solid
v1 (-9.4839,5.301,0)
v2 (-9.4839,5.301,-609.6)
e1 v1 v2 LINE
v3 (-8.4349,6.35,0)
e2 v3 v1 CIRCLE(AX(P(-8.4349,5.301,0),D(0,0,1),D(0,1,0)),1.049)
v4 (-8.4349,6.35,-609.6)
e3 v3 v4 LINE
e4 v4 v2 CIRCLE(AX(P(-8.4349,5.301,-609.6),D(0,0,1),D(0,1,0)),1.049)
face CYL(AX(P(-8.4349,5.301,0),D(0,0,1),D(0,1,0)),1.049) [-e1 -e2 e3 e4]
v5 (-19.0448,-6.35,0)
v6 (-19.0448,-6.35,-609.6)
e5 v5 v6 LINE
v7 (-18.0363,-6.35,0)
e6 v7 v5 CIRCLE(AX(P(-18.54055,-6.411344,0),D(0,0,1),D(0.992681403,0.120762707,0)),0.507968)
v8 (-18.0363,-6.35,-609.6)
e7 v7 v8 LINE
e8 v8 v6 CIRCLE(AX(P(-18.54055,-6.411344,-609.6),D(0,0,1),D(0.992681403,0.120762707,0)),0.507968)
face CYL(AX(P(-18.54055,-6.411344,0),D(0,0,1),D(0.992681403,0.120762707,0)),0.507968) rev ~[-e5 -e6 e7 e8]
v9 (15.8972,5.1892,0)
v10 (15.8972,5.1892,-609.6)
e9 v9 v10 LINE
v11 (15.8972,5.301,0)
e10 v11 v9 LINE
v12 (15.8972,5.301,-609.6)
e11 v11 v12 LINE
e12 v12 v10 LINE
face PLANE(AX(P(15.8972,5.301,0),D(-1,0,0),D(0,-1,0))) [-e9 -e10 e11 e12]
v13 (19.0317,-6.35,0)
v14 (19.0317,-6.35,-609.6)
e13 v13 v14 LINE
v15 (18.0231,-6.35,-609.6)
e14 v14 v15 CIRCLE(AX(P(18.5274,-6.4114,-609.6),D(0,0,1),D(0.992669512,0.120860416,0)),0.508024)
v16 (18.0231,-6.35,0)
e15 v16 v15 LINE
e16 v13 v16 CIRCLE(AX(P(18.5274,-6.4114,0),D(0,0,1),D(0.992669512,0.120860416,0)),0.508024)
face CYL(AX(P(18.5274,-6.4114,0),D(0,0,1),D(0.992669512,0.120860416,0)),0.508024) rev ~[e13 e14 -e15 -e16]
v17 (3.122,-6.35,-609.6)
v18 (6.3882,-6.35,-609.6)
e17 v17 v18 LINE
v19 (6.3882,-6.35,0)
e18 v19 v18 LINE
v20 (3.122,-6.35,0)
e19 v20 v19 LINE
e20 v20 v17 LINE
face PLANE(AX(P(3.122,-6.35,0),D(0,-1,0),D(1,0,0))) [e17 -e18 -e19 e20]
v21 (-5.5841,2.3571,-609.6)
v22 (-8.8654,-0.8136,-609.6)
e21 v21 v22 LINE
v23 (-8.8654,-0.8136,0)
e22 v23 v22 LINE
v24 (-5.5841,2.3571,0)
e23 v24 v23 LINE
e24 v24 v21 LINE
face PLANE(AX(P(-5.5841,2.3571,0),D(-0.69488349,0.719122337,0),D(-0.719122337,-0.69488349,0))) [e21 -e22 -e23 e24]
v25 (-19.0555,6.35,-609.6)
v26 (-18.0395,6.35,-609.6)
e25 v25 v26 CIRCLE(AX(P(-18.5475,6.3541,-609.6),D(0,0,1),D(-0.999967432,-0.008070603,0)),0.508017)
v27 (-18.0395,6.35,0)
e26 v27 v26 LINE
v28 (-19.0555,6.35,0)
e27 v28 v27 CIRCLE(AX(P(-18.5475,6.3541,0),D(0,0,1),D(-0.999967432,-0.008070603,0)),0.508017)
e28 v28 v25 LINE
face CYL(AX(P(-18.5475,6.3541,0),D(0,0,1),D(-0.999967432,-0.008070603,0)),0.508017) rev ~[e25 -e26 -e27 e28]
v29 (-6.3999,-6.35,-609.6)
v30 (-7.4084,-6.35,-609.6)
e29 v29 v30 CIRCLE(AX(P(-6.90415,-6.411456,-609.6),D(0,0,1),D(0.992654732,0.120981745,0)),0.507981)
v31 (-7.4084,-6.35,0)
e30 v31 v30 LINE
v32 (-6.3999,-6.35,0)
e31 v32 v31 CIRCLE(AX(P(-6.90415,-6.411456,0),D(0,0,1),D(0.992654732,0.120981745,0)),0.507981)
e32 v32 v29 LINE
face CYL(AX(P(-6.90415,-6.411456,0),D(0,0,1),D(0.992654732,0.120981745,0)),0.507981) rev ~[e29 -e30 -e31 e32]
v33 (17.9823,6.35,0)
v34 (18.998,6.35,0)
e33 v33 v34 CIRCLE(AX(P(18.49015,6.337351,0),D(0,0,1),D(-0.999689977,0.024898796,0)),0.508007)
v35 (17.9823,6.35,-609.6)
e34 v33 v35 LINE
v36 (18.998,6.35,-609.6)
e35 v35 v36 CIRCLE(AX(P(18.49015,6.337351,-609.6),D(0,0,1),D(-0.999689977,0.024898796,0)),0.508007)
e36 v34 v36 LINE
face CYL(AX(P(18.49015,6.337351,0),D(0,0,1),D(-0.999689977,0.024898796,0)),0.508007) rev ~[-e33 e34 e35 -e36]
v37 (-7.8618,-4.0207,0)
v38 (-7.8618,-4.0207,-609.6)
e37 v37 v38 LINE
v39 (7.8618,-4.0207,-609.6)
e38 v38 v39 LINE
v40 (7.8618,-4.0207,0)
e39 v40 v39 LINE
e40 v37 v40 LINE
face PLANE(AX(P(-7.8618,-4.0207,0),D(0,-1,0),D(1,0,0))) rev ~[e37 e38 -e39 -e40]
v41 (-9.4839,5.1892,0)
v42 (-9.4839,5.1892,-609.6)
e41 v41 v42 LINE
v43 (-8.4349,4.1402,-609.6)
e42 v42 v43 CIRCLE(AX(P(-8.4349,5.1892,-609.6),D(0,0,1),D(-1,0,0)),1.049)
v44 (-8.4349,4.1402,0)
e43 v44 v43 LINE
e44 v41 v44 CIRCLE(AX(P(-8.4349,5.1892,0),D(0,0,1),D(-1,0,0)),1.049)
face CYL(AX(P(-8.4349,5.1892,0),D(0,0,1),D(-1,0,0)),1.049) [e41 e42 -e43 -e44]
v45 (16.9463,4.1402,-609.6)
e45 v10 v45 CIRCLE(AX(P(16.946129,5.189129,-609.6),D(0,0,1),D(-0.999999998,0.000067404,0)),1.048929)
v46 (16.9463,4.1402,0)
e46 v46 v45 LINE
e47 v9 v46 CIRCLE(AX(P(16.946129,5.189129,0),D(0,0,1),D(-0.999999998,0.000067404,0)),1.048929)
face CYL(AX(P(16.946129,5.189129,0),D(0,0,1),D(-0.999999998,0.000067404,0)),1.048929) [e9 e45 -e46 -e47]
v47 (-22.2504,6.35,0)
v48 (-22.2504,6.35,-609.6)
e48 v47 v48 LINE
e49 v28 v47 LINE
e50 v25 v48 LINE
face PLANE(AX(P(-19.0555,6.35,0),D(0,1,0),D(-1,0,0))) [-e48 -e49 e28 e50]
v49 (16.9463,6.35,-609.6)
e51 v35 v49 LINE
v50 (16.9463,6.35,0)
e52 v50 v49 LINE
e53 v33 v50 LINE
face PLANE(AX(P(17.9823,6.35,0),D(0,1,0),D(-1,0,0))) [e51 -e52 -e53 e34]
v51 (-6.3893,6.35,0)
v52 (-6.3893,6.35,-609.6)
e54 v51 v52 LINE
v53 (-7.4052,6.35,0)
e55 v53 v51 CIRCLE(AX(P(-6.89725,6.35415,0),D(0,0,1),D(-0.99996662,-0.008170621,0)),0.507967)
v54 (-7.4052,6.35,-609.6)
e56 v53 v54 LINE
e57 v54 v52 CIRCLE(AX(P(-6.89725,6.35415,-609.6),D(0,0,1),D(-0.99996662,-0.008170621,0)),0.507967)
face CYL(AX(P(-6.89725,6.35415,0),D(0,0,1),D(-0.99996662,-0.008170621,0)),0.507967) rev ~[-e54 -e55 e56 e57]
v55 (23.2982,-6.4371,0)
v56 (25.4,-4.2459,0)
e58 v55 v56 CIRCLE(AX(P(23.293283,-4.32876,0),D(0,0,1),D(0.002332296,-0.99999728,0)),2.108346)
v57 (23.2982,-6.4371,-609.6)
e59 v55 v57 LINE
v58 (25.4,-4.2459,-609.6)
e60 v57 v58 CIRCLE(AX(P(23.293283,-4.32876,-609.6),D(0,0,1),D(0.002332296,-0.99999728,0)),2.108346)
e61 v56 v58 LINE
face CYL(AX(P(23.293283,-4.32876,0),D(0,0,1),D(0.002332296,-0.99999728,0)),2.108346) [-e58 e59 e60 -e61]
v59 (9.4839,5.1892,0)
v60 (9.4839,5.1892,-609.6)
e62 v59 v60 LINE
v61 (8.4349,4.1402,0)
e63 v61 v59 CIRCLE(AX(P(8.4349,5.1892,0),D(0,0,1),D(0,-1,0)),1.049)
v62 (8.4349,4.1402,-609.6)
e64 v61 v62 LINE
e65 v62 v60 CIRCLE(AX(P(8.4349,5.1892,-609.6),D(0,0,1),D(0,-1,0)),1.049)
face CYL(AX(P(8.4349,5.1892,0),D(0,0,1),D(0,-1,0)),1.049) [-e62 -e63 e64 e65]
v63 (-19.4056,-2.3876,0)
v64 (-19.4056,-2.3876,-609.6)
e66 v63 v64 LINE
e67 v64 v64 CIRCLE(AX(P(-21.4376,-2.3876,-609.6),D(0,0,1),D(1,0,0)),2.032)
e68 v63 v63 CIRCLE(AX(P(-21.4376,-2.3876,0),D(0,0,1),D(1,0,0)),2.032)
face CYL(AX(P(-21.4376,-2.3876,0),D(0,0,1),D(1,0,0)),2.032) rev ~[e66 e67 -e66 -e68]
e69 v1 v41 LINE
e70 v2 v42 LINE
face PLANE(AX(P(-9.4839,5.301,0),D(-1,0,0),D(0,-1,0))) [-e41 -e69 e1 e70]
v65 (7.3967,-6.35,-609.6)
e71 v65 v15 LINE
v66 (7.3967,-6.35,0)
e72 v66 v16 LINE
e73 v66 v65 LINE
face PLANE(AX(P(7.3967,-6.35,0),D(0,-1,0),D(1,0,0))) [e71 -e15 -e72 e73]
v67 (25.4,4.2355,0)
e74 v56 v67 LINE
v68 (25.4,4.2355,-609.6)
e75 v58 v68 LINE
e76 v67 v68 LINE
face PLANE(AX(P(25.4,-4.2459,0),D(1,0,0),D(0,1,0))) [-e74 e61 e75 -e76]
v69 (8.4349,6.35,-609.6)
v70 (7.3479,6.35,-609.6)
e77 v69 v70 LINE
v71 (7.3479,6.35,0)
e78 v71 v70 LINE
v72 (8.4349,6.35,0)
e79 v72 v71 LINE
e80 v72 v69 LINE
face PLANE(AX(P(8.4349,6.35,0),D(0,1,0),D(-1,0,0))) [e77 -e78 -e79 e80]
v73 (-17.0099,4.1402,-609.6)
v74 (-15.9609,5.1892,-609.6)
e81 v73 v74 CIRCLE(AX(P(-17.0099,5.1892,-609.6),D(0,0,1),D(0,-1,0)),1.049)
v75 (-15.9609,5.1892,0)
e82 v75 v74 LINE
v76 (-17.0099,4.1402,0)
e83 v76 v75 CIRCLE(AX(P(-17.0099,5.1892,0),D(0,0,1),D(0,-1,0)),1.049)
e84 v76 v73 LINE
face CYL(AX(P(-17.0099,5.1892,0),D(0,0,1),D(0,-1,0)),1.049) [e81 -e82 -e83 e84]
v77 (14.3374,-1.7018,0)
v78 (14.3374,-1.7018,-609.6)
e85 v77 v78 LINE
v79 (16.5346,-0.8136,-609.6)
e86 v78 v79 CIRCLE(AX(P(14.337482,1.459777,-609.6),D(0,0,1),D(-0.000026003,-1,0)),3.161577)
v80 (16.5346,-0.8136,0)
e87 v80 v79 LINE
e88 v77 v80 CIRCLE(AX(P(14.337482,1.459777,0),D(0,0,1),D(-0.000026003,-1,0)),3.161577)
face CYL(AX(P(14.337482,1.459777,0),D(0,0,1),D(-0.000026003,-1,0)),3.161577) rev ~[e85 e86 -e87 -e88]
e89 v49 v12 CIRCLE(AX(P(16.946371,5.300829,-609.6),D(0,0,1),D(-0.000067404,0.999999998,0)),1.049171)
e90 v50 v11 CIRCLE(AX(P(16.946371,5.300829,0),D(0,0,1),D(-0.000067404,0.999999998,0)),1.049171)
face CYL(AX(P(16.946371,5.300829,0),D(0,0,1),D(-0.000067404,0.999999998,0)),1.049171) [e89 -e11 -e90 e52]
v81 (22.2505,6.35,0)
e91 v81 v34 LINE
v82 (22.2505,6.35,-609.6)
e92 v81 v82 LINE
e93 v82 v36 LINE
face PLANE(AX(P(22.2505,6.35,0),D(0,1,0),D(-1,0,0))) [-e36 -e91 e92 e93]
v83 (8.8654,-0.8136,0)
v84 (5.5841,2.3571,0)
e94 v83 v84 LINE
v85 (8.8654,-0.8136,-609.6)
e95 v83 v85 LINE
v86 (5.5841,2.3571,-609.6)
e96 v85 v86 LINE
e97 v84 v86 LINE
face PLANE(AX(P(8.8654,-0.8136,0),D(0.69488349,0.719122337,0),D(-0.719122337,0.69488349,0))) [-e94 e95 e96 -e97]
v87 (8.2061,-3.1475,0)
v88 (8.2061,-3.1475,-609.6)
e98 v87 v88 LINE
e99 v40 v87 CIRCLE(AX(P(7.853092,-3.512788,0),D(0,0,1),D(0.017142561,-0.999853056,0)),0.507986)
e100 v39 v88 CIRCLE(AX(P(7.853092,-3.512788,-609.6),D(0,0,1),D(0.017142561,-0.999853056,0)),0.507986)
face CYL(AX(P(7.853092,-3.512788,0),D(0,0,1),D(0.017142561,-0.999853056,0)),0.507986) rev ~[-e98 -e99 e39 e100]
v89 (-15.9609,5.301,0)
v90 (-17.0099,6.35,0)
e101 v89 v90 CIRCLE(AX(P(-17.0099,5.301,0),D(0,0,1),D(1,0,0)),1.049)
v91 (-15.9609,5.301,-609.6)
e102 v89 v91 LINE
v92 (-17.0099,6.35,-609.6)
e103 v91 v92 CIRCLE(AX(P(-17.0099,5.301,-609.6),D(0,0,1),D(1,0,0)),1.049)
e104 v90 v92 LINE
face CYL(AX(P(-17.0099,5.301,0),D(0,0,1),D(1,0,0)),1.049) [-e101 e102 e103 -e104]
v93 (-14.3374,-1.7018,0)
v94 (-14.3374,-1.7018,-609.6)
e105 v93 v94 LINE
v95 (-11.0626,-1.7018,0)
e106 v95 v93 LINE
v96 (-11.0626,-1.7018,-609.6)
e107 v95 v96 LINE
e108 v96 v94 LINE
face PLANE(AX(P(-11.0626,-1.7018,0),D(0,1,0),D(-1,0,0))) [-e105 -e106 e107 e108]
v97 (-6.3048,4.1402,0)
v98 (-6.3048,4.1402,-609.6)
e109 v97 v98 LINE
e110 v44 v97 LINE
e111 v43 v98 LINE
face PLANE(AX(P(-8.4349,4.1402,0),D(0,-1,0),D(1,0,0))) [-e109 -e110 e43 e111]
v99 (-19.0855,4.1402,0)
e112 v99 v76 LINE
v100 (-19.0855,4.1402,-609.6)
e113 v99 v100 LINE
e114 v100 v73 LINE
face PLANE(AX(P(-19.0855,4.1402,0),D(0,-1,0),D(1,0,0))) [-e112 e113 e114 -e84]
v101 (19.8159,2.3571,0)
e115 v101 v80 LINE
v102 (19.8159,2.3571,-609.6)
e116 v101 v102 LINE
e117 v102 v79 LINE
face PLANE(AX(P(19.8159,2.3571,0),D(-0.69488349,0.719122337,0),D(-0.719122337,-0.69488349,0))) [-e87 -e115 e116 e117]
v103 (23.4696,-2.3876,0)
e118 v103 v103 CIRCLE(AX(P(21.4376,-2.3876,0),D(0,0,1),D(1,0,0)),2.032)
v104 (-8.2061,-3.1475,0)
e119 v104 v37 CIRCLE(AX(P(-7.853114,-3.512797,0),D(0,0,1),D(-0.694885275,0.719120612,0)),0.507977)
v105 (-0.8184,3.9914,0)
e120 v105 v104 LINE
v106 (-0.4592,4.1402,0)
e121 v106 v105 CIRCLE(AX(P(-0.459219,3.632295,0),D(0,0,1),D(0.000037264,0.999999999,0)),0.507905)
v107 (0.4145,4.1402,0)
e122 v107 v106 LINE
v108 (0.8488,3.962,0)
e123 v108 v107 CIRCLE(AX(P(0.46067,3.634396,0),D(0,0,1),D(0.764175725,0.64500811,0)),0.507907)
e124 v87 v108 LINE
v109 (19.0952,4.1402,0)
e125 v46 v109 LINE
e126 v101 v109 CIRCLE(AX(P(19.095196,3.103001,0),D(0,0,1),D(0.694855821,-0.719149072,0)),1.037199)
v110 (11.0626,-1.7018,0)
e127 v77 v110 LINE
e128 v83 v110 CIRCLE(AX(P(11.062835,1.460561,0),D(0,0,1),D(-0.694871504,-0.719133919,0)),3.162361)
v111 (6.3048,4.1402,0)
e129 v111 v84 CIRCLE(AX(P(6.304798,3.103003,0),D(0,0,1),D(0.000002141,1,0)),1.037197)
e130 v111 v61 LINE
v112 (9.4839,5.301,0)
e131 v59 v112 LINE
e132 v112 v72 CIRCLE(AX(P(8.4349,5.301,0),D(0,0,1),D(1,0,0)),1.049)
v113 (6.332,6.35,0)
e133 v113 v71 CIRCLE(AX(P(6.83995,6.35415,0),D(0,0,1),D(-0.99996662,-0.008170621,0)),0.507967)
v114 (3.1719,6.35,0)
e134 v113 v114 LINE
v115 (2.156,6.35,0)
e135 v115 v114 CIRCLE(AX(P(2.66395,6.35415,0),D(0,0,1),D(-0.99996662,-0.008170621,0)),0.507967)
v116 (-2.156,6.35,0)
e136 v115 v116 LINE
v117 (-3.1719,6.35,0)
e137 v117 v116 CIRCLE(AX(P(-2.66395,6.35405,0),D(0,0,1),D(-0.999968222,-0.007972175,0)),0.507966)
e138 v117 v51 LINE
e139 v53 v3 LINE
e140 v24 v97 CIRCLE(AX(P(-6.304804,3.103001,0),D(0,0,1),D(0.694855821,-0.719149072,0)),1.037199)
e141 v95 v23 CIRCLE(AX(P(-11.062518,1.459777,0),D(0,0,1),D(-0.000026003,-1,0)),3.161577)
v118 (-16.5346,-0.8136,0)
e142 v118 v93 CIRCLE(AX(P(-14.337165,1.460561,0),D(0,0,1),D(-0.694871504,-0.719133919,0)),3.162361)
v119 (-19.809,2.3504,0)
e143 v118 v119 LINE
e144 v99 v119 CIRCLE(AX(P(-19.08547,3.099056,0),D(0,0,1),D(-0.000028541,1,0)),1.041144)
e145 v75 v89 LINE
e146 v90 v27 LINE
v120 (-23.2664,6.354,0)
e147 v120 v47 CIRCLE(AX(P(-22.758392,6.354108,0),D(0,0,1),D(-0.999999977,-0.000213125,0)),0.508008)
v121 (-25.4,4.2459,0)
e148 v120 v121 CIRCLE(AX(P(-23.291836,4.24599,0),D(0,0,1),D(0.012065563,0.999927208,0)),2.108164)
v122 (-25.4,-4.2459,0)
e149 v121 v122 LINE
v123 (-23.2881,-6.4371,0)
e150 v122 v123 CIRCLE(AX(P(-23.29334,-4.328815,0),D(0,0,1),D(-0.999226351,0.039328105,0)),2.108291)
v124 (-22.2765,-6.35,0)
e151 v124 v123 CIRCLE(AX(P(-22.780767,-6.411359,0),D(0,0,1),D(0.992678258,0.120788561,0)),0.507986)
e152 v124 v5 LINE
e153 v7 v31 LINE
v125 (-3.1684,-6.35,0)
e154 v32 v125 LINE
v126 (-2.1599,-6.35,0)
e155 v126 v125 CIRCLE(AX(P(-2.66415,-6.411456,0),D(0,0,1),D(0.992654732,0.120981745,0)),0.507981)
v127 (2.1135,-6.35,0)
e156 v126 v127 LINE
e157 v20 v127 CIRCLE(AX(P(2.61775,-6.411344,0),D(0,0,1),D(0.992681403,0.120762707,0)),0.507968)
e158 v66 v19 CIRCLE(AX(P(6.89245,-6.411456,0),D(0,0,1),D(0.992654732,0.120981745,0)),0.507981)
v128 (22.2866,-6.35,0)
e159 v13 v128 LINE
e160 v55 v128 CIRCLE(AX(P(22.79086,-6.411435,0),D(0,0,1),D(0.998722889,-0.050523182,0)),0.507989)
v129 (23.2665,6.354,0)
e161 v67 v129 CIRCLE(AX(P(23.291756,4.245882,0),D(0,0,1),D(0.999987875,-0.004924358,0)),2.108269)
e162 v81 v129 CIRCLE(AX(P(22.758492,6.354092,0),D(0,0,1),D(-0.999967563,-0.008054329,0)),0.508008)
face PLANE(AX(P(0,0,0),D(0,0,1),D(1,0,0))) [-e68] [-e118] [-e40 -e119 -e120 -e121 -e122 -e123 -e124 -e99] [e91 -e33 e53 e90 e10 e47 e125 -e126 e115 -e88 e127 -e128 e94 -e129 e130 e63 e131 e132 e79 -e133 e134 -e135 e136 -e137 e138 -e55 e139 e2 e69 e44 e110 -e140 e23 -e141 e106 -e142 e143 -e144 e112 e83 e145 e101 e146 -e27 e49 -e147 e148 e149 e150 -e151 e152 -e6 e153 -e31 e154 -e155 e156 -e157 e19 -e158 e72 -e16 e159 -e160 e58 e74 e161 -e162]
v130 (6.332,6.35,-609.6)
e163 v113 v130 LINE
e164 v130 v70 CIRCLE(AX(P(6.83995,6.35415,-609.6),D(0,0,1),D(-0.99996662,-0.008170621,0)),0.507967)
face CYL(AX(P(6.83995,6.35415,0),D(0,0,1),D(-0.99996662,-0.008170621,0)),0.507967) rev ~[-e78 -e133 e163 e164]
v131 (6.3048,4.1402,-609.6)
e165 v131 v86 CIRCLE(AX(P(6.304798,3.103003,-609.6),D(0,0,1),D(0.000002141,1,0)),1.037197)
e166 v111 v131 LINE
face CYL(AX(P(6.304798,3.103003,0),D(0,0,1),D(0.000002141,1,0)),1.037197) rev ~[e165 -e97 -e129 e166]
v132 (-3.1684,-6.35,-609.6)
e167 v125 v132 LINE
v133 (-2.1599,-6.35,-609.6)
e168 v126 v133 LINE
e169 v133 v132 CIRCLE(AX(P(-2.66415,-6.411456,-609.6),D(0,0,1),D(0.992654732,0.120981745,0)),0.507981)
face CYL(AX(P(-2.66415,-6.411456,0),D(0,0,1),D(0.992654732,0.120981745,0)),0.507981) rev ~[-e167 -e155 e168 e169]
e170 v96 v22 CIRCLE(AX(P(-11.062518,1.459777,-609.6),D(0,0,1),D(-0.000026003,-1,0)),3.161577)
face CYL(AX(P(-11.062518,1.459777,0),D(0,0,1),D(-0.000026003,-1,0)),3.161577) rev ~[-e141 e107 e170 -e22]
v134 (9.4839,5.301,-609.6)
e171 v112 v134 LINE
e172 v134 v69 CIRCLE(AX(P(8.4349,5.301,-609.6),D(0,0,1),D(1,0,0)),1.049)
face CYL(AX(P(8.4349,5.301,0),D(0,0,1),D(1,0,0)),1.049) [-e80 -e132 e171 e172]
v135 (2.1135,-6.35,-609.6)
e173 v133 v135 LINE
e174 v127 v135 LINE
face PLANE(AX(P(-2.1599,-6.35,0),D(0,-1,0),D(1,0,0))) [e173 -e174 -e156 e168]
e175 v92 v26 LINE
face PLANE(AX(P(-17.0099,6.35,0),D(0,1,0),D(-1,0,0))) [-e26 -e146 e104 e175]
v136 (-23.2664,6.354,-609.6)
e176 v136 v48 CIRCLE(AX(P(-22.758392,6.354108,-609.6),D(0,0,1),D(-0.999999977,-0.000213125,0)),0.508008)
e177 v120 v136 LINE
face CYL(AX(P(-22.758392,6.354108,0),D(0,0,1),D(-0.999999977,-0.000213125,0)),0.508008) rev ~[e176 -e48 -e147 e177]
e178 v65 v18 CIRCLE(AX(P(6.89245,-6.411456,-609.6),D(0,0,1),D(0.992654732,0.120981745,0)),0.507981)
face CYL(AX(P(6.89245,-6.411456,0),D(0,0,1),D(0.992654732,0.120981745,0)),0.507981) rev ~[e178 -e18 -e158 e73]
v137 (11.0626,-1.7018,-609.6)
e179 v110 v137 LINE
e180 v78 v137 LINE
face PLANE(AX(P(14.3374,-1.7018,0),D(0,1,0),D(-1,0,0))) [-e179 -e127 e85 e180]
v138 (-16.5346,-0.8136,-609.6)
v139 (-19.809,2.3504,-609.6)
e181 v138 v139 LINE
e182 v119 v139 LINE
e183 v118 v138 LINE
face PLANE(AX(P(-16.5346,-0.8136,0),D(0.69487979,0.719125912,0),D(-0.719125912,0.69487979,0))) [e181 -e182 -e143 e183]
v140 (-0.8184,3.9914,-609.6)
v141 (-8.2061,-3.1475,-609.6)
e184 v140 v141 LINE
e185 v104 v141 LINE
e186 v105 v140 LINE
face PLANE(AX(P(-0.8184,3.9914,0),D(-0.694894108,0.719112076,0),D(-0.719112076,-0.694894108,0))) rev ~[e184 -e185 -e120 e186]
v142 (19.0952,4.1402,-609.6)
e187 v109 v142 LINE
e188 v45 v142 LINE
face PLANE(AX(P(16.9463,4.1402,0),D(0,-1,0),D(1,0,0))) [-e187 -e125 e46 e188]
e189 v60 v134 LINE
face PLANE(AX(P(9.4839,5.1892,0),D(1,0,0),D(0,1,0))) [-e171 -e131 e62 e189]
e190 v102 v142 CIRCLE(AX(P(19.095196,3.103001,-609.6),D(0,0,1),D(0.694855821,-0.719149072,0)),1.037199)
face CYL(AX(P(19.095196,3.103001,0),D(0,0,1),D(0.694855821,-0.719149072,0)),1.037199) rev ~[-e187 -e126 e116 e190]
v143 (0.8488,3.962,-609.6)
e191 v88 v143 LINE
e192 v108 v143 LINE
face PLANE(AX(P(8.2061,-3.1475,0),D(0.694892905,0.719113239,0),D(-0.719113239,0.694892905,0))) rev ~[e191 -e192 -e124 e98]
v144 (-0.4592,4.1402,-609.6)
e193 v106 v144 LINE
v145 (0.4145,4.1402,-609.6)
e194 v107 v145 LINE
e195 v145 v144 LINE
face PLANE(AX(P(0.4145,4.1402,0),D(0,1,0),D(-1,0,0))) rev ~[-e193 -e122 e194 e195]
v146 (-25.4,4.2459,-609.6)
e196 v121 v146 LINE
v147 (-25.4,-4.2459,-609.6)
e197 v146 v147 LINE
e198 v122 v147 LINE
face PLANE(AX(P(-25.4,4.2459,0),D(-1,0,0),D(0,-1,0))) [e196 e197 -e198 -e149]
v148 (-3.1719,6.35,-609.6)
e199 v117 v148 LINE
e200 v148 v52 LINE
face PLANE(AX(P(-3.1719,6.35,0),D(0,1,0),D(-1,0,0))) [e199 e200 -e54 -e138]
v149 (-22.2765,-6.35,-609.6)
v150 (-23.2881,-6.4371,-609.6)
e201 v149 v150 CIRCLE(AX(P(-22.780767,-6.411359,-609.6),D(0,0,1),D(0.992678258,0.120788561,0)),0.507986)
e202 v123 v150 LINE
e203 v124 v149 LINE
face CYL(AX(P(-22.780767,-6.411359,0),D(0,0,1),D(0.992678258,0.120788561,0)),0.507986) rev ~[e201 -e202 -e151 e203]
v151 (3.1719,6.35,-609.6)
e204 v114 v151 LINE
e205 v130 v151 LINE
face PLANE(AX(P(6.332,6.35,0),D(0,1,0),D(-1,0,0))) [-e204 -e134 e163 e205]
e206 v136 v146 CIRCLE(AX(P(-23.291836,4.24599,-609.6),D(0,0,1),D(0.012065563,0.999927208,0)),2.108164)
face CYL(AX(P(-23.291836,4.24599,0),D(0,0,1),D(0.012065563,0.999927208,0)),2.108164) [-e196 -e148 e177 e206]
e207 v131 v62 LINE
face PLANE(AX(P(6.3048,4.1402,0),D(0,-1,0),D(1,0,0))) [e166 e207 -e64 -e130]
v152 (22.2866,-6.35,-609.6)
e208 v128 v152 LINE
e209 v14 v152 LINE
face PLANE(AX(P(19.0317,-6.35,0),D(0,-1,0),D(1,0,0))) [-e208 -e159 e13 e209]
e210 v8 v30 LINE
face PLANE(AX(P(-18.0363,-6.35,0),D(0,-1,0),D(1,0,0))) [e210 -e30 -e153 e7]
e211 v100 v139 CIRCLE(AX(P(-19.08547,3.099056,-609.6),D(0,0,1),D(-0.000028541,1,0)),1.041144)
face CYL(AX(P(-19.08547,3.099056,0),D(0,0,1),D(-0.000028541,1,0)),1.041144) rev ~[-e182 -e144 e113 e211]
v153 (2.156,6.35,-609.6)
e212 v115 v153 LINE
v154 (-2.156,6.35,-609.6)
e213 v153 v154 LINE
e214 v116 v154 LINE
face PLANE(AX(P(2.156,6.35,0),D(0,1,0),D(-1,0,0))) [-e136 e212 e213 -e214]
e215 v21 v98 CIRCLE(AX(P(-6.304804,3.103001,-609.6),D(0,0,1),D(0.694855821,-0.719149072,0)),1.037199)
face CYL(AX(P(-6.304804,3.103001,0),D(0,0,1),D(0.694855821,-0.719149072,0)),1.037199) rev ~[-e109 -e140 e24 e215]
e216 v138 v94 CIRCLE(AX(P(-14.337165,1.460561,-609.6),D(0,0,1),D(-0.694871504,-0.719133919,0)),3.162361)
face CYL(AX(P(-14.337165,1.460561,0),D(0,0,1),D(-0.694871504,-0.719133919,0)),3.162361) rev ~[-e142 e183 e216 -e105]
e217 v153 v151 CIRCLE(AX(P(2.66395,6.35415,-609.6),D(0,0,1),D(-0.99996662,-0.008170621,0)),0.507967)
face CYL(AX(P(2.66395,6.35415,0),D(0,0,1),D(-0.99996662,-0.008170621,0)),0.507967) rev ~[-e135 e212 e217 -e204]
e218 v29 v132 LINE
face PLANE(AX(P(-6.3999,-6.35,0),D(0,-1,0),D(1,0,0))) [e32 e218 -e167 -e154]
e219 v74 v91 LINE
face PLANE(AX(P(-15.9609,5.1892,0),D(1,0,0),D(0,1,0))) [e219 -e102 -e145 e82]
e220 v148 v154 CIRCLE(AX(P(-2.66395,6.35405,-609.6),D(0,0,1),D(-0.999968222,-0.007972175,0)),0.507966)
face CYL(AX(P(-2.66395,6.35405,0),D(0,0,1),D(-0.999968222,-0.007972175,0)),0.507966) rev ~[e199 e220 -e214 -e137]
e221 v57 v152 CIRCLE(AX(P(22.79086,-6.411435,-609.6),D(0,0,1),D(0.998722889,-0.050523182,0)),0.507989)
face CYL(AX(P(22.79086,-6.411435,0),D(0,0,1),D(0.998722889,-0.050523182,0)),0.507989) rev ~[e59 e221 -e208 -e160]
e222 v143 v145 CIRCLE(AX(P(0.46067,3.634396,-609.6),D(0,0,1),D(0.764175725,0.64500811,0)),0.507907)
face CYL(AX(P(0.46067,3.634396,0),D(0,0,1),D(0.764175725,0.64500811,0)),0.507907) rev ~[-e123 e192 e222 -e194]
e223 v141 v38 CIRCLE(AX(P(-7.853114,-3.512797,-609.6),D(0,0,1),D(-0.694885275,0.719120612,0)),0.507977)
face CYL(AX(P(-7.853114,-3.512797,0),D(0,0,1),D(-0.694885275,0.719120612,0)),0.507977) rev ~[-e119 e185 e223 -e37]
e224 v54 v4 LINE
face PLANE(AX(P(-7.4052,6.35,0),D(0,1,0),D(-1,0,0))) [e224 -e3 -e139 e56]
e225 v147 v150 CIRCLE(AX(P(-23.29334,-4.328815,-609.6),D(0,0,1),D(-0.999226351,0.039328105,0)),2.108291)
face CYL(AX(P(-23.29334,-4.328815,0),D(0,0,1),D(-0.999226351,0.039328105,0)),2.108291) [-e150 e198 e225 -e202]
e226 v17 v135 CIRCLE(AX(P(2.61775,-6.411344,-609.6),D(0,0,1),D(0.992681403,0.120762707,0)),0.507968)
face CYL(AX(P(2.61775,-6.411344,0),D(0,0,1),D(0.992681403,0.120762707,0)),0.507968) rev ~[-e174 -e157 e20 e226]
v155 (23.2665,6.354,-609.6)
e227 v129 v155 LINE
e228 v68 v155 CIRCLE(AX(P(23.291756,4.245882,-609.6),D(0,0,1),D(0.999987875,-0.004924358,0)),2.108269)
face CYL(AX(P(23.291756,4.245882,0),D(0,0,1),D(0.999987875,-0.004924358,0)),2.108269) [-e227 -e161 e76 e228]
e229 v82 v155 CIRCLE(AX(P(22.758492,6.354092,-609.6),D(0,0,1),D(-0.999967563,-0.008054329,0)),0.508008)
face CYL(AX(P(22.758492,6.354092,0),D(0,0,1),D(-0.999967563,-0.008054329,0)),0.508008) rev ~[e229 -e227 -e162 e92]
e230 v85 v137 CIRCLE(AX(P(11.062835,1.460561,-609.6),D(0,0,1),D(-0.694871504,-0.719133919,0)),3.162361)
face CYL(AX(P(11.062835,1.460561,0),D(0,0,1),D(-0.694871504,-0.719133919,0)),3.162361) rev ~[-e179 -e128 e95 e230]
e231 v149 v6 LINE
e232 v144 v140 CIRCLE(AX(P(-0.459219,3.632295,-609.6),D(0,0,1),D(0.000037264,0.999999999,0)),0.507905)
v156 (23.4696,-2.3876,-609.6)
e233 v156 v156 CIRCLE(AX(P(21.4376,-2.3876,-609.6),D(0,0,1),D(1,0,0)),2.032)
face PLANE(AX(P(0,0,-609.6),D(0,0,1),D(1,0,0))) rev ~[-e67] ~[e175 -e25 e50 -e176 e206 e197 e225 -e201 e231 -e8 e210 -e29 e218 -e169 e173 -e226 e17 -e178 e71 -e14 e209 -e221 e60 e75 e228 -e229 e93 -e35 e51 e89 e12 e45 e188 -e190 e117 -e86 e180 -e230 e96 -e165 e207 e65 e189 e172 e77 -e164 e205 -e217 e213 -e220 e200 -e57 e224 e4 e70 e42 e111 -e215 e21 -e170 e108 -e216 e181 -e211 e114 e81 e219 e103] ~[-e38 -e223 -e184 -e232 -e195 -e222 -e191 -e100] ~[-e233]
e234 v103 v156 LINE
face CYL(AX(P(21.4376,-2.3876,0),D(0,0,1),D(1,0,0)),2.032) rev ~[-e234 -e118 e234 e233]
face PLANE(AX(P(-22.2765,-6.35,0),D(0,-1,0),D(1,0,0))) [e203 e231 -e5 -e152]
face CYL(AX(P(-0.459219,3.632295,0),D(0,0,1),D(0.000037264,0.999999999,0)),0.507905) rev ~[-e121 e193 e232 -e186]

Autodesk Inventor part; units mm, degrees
ref_plane "YZ Plane" through (0, 0, 0) normal (1, 0, 0) x (0, 1, 0)
ref_plane "XZ Plane" through (0, 0, 0) normal (0, 1, 0) x (-1, 0, 0)
ref_plane "XY Plane" through (0, 0, 0) normal (0, 0, 1) x (1, 0, 0)
sketch "Sketch1" plane through (0, 0, 0) normal (0, 0, 1) x (1, 0, 0)
  arc A0 (-8.2061, -3.1475) -> (-7.8618, -4.0207) centre (-7.8531, -3.5128) ccw
  line L0 (-0.8184, 3.9914) -> (-8.2061, -3.1475)
  arc A1 (-0.4592, 4.1402) -> (-0.8184, 3.9914) centre (-0.4592, 3.6322) ccw
  line L1 (0.4145, 4.1402) -> (-0.4592, 4.1402)
  arc A2 (0.8488, 3.962) -> (0.4145, 4.1402) centre (0.4606, 3.6343) ccw
  line L2 (8.2061, -3.1475) -> (0.8488, 3.962)
  arc A3 (7.8618, -4.0207) -> (8.2061, -3.1475) centre (7.8531, -3.5128) ccw
  line L3 (-7.8618, -4.0207) -> (7.8618, -4.0207)
  circle A4 centre (21.4376, -2.3876) radius 2.032
  circle A5 centre (-21.4376, -2.3876) radius 2.032
  arc A6 (16.9463, 6.35) -> (15.8972, 5.301) centre (16.9463, 5.301) ccw
  line L4 (15.8972, 5.301) -> (15.8972, 5.1892)
  arc A7 (15.8972, 5.1892) -> (16.9463, 4.1402) centre (16.9463, 5.1892) ccw
  line L5 (16.9463, 4.1402) -> (19.0952, 4.1402)
  arc A8 (19.8159, 2.3571) -> (19.0952, 4.1402) centre (19.0952, 3.103) ccw
  line L6 (19.8159, 2.3571) -> (16.5346, -0.8136)
  arc A9 (14.3374, -1.7018) -> (16.5346, -0.8136) centre (14.3374, 1.4602) ccw
  line L7 (14.3374, -1.7018) -> (11.0626, -1.7018)
  arc A10 (8.8654, -0.8136) -> (11.0626, -1.7018) centre (11.0626, 1.4602) ccw
  line L8 (8.8654, -0.8136) -> (5.5841, 2.3571)
  arc A11 (6.3048, 4.1402) -> (5.5841, 2.3571) centre (6.3048, 3.103) ccw
  line L9 (6.3048, 4.1402) -> (8.4349, 4.1402)
  arc A12 (8.4349, 4.1402) -> (9.4839, 5.1892) centre (8.4349, 5.1892) ccw
  line L10 (9.4839, 5.1892) -> (9.4839, 5.301)
  arc A13 (9.4839, 5.301) -> (8.4349, 6.35) centre (8.4349, 5.301) ccw
  line L11 (8.4349, 6.35) -> (7.3479, 6.35)
  arc A14 (6.332, 6.35) -> (7.3479, 6.35) centre (6.8399, 6.3541) ccw
  line L12 (6.332, 6.35) -> (3.1719, 6.35)
  arc A15 (2.156, 6.35) -> (3.1719, 6.35) centre (2.6639, 6.3541) ccw
  line L13 (2.156, 6.35) -> (-2.156, 6.35)
  arc A16 (-3.1719, 6.35) -> (-2.156, 6.35) centre (-2.6639, 6.3541) ccw
  line L14 (-3.1719, 6.35) -> (-6.3893, 6.35)
  arc A17 (-7.4052, 6.35) -> (-6.3893, 6.35) centre (-6.8973, 6.3541) ccw
  line L15 (-7.4052, 6.35) -> (-8.4349, 6.35)
  arc A18 (-8.4349, 6.35) -> (-9.4839, 5.301) centre (-8.4349, 5.301) ccw
  line L16 (-9.4839, 5.301) -> (-9.4839, 5.1892)
  arc A19 (-9.4839, 5.1892) -> (-8.4349, 4.1402) centre (-8.4349, 5.1892) ccw
  line L17 (-8.4349, 4.1402) -> (-6.3048, 4.1402)
  arc A20 (-5.5841, 2.3571) -> (-6.3048, 4.1402) centre (-6.3048, 3.103) ccw
  line L18 (-5.5841, 2.3571) -> (-8.8654, -0.8136)
  arc A21 (-11.0626, -1.7018) -> (-8.8654, -0.8136) centre (-11.0626, 1.4602) ccw
  line L19 (-11.0626, -1.7018) -> (-14.3374, -1.7018)
  arc A22 (-16.5346, -0.8136) -> (-14.3374, -1.7018) centre (-14.3374, 1.4602) ccw
  line L20 (-16.5346, -0.8136) -> (-19.809, 2.3504)
  arc A23 (-19.0855, 4.1402) -> (-19.809, 2.3504) centre (-19.0855, 3.0991) ccw
  line L21 (-19.0855, 4.1402) -> (-17.0099, 4.1402)
  arc A24 (-17.0099, 4.1402) -> (-15.9609, 5.1892) centre (-17.0099, 5.1892) ccw
  line L22 (-15.9609, 5.1892) -> (-15.9609, 5.301)
  arc A25 (-15.9609, 5.301) -> (-17.0099, 6.35) centre (-17.0099, 5.301) ccw
  line L23 (-17.0099, 6.35) -> (-18.0395, 6.35)
  arc A26 (-19.0555, 6.35) -> (-18.0395, 6.35) centre (-18.5475, 6.3541) ccw
  line L24 (-19.0555, 6.35) -> (-22.2504, 6.35)
  arc A27 (-23.2664, 6.354) -> (-22.2504, 6.35) centre (-22.7584, 6.3541) ccw
  arc A28 (-23.2664, 6.354) -> (-25.4, 4.2459) centre (-23.2918, 4.2459) ccw
  line L25 (-25.4, 4.2459) -> (-25.4, -4.2459)
  arc A29 (-25.4, -4.2459) -> (-23.2881, -6.4371) centre (-23.2933, -4.3288) ccw
  arc A30 (-22.2765, -6.35) -> (-23.2881, -6.4371) centre (-22.7808, -6.4114) ccw
  line L26 (-22.2765, -6.35) -> (-19.0448, -6.35)
  arc A31 (-18.0363, -6.35) -> (-19.0448, -6.35) centre (-18.5406, -6.4114) ccw
  line L27 (-18.0363, -6.35) -> (-7.4084, -6.35)
  arc A32 (-6.3999, -6.35) -> (-7.4084, -6.35) centre (-6.9041, -6.4114) ccw
  line L28 (-6.3999, -6.35) -> (-3.1684, -6.35)
  arc A33 (-2.1599, -6.35) -> (-3.1684, -6.35) centre (-2.6641, -6.4114) ccw
  line L29 (-2.1599, -6.35) -> (2.1135, -6.35)
  arc A34 (3.122, -6.35) -> (2.1135, -6.35) centre (2.6177, -6.4114) ccw
  line L30 (3.122, -6.35) -> (6.3882, -6.35)
  arc A35 (7.3967, -6.35) -> (6.3882, -6.35) centre (6.8925, -6.4114) ccw
  line L31 (7.3967, -6.35) -> (18.0231, -6.35)
  arc A36 (19.0317, -6.35) -> (18.0231, -6.35) centre (18.5274, -6.4114) ccw
  line L32 (19.0317, -6.35) -> (22.2866, -6.35)
  arc A37 (23.2982, -6.4371) -> (22.2866, -6.35) centre (22.7909, -6.4114) ccw
  arc A38 (23.2982, -6.4371) -> (25.4, -4.2459) centre (23.2933, -4.3288) ccw
  line L33 (25.4, -4.2459) -> (25.4, 4.2355)
  arc A39 (25.4, 4.2355) -> (23.2665, 6.354) centre (23.2918, 4.2459) ccw
  arc A40 (22.2505, 6.35) -> (23.2665, 6.354) centre (22.7585, 6.3541) ccw
  line L34 (22.2505, 6.35) -> (18.998, 6.35)
  arc A41 (17.9823, 6.35) -> (18.998, 6.35) centre (18.4902, 6.3374) ccw
  line L35 (17.9823, 6.35) -> (16.9463, 6.35)
  point P0 (0, 0)
extrude "Extrusion1" add sketch "Sketch1" against normal blind 609.6
properties part number "24in_2012"
